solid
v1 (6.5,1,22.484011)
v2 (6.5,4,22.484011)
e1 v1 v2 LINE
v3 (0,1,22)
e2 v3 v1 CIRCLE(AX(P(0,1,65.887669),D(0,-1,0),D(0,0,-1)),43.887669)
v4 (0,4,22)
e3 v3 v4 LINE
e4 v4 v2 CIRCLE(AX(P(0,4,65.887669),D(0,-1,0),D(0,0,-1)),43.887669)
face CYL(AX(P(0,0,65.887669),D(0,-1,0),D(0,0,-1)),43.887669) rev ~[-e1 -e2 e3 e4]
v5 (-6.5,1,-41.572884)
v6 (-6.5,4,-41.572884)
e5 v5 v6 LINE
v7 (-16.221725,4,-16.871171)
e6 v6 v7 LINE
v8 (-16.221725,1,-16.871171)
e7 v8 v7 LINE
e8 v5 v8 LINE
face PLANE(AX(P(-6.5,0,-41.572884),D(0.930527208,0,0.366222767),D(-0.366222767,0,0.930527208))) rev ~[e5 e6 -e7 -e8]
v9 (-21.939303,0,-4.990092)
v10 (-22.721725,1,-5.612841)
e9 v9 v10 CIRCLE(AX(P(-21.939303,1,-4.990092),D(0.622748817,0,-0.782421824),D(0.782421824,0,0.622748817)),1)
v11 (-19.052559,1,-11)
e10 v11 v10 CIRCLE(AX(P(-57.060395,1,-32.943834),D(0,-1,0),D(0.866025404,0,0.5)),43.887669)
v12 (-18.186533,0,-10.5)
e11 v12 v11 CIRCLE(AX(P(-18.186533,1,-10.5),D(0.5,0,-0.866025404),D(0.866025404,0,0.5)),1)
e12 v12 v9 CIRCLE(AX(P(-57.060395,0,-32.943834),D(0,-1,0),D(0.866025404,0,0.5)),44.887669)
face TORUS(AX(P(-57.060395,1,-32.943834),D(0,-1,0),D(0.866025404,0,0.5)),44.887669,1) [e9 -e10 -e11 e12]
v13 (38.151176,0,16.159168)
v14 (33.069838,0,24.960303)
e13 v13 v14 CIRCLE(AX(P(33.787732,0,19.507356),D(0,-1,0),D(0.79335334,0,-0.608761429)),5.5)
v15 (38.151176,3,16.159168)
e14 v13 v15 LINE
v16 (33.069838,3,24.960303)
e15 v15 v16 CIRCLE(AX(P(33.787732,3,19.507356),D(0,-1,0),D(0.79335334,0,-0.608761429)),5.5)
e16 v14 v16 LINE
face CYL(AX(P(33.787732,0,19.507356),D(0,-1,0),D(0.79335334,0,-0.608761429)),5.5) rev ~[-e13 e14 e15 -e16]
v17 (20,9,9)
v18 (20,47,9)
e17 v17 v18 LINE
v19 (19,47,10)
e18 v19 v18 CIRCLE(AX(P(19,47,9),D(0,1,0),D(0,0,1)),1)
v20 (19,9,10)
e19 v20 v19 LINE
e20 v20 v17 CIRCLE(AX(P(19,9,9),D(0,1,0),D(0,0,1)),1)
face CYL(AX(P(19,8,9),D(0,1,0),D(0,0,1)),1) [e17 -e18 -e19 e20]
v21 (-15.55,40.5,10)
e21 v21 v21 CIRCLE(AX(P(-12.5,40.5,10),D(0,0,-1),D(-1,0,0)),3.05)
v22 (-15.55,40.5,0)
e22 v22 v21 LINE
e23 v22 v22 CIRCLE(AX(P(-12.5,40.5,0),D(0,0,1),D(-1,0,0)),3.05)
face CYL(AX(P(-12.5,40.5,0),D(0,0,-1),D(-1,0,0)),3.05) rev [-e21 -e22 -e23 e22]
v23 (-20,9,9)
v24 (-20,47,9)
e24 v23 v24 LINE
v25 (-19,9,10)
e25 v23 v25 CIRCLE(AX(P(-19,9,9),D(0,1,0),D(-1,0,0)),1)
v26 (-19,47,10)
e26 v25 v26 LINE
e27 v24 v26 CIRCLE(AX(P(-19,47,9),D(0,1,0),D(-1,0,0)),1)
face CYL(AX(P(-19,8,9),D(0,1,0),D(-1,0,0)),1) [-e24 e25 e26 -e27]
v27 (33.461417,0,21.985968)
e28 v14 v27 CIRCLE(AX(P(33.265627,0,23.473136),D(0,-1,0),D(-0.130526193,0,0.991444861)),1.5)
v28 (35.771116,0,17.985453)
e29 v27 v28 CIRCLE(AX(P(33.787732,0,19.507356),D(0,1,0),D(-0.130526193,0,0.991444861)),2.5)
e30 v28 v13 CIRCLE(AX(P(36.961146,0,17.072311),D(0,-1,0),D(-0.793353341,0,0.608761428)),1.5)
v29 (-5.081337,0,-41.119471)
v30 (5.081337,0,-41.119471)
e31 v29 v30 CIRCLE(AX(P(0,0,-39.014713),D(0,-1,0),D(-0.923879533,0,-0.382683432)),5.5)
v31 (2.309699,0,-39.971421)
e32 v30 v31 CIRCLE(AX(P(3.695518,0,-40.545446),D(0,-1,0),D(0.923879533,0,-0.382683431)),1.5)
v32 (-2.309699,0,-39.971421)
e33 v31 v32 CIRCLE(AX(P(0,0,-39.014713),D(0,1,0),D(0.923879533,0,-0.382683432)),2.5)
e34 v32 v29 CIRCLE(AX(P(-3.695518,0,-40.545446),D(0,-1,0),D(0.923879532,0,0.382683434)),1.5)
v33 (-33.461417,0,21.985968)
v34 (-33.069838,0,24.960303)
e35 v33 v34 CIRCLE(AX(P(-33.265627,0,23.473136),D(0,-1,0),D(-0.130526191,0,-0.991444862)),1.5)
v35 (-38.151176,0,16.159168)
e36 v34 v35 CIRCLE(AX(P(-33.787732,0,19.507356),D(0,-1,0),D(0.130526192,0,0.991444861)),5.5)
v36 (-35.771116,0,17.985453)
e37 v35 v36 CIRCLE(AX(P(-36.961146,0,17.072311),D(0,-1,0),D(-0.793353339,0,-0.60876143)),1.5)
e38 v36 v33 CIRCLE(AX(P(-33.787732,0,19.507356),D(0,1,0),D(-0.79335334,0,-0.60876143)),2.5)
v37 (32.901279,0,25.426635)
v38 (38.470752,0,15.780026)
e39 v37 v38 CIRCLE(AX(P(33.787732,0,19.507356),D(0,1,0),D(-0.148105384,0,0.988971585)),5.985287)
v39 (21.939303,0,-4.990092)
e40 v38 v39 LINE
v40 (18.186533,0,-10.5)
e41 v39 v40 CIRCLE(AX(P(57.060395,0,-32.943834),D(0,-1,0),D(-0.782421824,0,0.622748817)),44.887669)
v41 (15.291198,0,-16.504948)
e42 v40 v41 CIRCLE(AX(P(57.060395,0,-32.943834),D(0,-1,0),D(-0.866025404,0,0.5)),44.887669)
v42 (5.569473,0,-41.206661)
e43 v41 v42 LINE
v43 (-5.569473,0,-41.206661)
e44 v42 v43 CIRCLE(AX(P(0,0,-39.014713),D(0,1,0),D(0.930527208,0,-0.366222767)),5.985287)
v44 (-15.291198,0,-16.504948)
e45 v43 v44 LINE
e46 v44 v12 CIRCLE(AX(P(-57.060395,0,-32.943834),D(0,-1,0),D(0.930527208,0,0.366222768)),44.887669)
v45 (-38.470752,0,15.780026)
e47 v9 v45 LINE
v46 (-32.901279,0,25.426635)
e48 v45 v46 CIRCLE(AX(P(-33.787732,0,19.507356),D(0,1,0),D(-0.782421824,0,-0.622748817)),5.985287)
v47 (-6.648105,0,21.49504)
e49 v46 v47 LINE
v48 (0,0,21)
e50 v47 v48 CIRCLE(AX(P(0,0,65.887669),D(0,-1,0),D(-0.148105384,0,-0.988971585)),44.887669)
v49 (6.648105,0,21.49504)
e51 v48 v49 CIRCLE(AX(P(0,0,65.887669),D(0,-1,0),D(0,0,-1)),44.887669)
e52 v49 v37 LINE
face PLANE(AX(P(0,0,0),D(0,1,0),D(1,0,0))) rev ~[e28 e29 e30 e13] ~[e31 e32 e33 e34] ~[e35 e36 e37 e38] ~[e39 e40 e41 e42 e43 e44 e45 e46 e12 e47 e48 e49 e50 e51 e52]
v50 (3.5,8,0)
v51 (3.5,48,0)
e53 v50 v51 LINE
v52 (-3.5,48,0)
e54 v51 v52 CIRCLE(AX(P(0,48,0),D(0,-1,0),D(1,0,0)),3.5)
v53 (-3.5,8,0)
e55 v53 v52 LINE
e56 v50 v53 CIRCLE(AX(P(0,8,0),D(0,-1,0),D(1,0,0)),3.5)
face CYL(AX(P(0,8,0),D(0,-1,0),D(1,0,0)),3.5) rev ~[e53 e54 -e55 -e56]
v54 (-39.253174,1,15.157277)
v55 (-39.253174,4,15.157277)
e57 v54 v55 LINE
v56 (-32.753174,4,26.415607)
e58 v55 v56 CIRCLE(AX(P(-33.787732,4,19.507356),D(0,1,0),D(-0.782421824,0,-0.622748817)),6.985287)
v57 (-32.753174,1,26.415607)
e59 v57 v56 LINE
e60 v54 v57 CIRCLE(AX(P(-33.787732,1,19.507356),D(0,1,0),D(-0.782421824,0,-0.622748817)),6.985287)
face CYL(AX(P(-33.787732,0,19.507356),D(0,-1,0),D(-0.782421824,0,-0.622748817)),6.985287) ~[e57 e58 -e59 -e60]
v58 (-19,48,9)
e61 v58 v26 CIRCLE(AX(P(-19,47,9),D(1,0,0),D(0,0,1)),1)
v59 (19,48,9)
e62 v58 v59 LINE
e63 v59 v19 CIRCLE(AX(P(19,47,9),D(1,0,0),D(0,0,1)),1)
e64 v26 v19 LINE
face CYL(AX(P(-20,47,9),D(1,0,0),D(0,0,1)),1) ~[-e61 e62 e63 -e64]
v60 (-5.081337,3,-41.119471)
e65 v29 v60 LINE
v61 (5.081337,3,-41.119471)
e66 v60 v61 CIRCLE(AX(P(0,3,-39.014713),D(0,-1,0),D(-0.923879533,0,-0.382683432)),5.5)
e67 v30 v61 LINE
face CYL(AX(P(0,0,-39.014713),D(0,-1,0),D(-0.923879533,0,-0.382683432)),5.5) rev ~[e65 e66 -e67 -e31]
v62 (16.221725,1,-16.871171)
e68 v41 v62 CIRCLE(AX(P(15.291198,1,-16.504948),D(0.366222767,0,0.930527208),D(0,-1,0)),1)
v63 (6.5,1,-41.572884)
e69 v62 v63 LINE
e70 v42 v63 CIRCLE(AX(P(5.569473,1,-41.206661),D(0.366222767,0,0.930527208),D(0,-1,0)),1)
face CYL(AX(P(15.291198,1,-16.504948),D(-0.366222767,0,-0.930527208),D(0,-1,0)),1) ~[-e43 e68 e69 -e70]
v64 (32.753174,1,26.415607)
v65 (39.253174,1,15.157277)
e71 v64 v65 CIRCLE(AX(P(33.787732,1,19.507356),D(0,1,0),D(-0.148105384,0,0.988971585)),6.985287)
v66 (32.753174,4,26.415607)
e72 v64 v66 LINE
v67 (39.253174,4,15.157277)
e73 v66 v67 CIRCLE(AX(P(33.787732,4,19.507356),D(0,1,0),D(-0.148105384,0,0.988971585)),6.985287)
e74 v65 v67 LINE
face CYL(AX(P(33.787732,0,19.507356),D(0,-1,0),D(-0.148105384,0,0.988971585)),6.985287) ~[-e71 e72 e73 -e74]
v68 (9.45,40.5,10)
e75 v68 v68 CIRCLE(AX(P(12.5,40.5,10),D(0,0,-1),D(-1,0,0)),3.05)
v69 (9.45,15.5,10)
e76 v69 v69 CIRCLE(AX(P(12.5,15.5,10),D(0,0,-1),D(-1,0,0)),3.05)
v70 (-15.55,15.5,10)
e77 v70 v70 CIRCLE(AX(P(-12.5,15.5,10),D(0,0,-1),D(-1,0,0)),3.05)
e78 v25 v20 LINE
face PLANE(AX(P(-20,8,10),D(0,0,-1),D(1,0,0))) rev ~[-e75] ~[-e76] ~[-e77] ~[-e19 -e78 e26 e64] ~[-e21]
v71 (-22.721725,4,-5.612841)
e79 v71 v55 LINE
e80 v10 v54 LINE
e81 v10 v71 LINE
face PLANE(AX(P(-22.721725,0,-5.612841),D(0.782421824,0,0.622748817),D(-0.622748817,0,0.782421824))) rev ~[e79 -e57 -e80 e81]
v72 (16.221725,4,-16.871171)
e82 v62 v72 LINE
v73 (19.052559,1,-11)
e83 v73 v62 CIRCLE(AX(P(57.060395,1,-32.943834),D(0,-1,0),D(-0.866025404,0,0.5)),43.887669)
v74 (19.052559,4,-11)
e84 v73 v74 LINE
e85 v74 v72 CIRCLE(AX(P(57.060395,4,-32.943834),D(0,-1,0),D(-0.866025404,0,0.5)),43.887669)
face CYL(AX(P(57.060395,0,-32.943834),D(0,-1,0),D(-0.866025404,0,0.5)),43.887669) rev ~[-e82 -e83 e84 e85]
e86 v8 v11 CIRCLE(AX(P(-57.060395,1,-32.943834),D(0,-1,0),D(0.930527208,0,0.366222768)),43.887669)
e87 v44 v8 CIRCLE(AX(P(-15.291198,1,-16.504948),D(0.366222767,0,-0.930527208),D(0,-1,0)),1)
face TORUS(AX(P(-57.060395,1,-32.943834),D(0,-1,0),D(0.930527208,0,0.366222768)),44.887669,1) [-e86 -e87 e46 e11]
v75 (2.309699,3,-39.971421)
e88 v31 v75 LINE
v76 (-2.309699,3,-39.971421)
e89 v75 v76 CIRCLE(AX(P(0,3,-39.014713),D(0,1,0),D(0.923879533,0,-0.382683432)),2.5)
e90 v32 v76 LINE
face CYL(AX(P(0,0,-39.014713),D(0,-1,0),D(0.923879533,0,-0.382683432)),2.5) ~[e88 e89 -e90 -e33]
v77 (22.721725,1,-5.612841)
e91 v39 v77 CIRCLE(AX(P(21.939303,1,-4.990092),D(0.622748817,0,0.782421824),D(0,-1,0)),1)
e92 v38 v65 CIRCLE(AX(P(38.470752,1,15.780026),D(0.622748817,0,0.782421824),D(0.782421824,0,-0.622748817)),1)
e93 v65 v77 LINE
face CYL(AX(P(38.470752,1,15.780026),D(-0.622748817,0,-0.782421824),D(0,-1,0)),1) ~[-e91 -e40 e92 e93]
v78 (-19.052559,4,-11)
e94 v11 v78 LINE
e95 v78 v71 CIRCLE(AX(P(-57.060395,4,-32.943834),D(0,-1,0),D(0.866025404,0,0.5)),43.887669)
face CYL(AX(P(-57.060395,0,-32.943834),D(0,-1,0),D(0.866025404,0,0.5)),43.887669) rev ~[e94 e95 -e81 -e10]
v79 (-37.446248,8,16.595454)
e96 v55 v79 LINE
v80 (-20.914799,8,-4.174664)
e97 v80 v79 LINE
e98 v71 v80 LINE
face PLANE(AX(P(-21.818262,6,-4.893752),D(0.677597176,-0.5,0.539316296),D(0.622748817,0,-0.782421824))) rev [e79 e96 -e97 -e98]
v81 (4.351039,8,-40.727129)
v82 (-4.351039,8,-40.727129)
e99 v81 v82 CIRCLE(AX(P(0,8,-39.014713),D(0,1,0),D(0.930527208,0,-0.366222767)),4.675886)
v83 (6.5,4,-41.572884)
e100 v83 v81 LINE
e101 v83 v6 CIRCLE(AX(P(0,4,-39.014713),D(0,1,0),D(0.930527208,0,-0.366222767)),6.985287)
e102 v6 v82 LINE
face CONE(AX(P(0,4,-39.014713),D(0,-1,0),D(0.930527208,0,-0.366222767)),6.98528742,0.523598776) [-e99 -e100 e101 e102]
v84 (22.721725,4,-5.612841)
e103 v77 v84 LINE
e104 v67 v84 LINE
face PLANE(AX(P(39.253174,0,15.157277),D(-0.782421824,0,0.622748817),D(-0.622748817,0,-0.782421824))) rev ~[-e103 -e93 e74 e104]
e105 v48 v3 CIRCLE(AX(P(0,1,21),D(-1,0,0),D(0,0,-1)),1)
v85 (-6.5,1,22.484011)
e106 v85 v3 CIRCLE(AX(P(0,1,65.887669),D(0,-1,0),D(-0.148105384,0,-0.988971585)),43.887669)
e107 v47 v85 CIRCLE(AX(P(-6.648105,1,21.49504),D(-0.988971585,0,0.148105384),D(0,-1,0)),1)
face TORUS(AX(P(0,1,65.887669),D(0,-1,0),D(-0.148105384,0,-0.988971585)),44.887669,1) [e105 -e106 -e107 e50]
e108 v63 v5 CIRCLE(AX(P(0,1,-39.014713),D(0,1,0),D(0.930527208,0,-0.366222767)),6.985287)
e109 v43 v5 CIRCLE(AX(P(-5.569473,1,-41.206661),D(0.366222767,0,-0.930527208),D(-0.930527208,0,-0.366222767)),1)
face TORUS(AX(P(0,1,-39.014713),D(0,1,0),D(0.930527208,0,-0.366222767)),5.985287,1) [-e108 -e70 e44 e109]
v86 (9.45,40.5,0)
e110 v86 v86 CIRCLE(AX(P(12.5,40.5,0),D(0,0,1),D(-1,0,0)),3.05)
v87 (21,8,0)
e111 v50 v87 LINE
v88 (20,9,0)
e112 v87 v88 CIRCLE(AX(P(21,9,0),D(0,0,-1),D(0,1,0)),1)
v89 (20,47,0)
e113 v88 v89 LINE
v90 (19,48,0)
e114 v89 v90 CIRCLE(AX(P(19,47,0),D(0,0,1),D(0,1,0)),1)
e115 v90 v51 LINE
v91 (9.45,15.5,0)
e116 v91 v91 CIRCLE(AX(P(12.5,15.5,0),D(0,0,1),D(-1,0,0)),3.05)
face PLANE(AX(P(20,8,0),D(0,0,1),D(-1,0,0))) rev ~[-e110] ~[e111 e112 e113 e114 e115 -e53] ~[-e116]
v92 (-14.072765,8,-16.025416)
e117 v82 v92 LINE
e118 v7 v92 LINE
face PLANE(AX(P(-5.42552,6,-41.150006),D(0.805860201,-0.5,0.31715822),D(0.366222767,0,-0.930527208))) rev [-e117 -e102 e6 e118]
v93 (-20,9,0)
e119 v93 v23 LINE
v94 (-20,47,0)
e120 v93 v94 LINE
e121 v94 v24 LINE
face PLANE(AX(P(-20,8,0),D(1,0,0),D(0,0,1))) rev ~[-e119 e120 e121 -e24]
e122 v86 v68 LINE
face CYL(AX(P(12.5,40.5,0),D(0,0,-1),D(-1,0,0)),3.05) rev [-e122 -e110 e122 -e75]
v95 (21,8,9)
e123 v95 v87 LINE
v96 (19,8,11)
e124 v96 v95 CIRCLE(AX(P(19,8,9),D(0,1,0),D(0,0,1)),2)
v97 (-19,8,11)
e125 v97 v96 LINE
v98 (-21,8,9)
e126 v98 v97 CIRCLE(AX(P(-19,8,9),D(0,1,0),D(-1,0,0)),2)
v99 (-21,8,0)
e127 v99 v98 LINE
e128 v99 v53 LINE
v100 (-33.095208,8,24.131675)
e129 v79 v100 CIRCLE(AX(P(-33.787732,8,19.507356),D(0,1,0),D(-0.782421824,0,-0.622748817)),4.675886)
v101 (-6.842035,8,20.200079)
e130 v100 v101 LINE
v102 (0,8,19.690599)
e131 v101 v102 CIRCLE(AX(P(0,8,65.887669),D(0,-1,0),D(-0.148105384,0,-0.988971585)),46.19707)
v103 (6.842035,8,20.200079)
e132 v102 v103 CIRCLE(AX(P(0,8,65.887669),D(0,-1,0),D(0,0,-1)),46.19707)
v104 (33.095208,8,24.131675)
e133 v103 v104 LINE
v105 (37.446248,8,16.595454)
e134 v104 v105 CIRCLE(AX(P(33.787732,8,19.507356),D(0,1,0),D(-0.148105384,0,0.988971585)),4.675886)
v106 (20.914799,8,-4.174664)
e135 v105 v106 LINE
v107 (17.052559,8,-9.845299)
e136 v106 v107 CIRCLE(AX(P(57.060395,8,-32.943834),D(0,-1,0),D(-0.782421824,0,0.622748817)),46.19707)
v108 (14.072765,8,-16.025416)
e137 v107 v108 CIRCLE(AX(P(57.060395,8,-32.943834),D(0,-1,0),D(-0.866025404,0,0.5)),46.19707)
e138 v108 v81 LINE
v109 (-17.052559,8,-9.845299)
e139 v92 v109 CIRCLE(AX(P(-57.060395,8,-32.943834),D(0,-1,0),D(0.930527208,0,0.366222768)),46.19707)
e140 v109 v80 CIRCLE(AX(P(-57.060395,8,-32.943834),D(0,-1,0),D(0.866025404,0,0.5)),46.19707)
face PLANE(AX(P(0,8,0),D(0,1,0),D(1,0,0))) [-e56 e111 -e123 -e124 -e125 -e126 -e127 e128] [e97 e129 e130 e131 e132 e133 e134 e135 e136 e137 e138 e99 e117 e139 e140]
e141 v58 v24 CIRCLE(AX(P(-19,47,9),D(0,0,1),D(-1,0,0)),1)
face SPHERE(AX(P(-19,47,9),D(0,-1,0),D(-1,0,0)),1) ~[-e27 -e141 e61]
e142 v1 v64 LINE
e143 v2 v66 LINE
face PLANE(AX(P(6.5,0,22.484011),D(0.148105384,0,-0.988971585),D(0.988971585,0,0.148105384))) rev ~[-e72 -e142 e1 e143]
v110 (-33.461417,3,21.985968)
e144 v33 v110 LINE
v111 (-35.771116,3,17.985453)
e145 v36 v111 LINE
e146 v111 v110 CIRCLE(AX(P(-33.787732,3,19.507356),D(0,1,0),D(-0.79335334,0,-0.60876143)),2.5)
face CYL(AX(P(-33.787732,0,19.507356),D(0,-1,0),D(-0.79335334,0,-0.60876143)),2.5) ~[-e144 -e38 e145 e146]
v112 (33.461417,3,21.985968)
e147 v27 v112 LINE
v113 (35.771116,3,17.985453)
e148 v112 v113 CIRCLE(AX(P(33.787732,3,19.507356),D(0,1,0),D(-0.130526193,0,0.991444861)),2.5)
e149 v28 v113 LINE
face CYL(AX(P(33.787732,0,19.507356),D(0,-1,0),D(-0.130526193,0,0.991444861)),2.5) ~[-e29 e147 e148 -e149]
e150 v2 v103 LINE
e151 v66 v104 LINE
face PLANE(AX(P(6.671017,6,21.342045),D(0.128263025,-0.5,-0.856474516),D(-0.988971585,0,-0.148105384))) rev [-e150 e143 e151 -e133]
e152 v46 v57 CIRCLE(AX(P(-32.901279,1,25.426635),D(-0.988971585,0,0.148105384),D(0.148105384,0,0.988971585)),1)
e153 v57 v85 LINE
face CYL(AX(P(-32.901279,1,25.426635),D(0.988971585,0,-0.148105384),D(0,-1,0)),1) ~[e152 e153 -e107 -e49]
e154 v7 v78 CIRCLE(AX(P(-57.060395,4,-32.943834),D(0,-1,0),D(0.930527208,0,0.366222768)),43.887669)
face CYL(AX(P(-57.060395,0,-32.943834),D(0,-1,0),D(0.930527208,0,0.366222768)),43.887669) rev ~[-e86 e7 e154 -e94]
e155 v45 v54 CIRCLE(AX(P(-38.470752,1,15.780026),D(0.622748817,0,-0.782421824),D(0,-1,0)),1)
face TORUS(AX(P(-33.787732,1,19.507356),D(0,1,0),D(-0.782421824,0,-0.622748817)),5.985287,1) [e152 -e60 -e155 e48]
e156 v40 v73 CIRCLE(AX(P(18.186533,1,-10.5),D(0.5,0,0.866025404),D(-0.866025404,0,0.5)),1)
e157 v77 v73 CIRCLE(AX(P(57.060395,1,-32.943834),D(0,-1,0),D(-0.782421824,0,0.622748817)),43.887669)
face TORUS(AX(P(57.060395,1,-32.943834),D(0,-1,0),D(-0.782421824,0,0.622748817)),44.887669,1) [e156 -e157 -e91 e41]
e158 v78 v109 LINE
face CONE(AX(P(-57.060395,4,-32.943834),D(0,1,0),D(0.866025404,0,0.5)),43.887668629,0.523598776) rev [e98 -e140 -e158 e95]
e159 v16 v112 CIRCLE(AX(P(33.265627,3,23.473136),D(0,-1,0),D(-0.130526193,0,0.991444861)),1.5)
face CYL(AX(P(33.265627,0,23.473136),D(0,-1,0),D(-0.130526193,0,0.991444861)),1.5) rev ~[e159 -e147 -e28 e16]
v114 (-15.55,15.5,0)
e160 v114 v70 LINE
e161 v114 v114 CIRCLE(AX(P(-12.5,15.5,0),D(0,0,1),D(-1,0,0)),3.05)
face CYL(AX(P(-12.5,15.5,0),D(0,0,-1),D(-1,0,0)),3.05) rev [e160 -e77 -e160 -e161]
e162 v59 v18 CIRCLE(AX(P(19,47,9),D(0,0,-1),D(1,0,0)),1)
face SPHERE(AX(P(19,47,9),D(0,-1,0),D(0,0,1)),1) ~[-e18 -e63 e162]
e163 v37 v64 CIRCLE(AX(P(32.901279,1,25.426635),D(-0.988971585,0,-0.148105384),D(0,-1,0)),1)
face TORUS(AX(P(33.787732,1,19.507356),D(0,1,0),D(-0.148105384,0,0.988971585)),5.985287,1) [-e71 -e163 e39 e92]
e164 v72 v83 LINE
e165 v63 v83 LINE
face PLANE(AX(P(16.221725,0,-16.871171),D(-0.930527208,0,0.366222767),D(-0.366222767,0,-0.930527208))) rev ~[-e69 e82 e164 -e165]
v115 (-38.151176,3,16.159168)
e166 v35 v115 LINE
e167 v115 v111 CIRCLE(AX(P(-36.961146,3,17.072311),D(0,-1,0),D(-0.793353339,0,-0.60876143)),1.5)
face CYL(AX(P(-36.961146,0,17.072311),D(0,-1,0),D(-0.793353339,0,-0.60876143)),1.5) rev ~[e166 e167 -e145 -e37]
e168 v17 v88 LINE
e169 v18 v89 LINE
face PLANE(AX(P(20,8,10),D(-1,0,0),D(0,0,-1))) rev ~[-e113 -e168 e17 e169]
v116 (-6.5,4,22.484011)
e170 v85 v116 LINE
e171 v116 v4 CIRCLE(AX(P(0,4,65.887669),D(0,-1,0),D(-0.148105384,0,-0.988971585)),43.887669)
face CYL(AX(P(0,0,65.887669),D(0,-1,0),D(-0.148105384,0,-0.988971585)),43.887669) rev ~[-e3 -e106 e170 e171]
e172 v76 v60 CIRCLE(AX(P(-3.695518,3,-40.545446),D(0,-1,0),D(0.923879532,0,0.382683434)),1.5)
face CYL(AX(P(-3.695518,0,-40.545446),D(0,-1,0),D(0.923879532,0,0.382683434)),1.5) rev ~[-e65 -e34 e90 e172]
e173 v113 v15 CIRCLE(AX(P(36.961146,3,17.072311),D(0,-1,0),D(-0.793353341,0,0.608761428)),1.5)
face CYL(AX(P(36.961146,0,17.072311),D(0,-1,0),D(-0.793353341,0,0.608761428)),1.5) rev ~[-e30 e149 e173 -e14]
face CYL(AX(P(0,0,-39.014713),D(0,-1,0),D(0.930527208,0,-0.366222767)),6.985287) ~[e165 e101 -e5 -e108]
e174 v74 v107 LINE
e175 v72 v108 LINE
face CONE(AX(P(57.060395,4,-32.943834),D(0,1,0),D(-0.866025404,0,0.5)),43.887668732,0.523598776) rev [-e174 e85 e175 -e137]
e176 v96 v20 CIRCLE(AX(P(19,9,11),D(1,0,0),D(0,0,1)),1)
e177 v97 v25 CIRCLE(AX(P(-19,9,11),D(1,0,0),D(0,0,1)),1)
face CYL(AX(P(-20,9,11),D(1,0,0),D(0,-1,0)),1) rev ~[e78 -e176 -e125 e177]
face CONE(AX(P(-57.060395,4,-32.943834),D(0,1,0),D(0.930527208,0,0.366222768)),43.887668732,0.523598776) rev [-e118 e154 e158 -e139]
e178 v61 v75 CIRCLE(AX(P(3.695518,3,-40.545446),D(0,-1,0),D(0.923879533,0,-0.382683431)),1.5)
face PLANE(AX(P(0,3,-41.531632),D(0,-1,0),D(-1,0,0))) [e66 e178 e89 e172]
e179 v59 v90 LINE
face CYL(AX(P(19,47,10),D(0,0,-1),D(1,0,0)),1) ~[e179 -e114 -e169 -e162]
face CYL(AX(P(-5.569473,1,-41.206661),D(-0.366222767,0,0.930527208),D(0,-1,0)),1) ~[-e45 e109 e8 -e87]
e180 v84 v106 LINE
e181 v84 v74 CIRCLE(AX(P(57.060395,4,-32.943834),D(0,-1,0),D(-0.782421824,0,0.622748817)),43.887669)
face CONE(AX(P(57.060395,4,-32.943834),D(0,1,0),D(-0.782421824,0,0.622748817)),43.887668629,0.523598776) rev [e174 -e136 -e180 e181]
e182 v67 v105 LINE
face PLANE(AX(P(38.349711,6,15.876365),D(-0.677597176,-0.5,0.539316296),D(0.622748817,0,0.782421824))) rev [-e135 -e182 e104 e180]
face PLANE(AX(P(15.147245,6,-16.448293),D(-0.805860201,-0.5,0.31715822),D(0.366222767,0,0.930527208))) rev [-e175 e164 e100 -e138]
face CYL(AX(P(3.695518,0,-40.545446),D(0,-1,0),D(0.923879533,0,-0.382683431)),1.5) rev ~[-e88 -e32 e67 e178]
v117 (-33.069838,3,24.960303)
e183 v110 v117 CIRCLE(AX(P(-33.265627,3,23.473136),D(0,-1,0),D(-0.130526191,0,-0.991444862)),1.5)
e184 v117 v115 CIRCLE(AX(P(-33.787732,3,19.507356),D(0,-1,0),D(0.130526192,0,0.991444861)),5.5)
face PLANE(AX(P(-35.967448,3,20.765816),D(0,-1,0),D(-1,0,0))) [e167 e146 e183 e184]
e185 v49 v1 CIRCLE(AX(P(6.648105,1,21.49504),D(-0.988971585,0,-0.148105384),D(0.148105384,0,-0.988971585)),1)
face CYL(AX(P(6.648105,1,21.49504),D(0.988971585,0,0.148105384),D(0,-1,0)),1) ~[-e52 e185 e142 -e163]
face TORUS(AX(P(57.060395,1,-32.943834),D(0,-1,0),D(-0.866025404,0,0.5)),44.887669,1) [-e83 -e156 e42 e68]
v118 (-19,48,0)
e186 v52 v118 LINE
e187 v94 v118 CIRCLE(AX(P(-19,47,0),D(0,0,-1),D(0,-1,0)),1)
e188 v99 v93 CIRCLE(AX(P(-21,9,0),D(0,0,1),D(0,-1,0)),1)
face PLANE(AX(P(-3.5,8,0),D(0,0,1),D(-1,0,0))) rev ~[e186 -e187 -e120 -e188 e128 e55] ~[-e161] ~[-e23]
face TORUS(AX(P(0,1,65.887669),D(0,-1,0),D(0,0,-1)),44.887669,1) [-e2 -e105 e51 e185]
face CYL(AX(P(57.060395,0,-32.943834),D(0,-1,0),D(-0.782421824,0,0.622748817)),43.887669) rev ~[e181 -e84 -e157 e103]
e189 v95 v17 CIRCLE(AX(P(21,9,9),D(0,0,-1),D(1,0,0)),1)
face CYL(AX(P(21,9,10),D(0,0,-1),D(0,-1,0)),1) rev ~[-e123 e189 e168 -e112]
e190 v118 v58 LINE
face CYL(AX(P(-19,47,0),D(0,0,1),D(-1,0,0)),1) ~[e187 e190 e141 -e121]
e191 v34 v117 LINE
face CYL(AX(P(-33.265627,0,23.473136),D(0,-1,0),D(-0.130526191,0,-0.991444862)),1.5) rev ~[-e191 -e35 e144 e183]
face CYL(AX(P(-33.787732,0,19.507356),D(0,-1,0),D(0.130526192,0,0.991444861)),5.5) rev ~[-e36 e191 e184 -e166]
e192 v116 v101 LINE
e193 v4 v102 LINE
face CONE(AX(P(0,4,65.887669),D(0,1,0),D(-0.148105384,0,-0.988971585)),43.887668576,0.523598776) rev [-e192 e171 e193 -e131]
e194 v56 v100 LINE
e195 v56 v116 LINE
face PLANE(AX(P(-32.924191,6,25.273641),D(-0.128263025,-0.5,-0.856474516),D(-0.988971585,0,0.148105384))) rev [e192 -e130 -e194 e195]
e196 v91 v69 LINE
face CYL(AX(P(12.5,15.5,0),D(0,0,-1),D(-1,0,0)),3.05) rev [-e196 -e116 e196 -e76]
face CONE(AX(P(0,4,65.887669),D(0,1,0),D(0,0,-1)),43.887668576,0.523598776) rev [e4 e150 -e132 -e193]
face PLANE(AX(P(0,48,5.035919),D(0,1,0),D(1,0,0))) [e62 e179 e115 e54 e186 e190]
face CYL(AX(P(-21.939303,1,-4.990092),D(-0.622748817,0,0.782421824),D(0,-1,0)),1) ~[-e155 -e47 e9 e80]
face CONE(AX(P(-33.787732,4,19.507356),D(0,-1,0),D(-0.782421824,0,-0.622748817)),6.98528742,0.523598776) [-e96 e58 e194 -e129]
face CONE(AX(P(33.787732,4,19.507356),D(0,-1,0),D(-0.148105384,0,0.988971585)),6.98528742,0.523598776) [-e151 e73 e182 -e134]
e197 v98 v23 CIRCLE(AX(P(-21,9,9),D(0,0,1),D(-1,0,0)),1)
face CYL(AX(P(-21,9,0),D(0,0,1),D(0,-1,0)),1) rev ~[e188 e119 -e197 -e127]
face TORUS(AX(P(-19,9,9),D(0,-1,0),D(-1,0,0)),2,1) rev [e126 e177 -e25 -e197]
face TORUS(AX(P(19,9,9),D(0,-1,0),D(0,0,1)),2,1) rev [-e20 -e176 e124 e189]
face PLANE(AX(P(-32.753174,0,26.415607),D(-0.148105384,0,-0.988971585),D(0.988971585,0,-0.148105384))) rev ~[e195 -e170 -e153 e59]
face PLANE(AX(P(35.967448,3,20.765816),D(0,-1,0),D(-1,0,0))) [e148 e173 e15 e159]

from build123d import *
from OCP.BRepFilletAPI import BRepFilletAPI_MakeChamfer

# Parameters (mm, degrees)
EXTRUDE2_DEPTH     = 8
CHAMFER2_SIZE      = 4
CHAMFER2_SIZE2     = 2.309401077
CUT_EXTRUDE1_DEPTH = 3
EXTRUDE3_START     = 8
EXTRUDE3_DEPTH     = 40
SKETCH4_R          = 3.05
CUT_EXTRUDE2_DEPTH = 78.989993783
FILLET1_R          = 1


with BuildPart() as part:
    # Sketch1 → Extrude2 (new body)
    with BuildSketch(Plane(origin=(0, 0, 0), x_dir=(1, 0, 0), z_dir=(0, 1, 0))):
        with BuildLine():
            Line((-6.5, 41.572883869), (-16.221725084, 16.871170844))
            ThreePointArc((-16.221725084, 16.871170844), (-17.527996386, 13.882959965), (-19.052558883, 11))
            ThreePointArc((-19.052558883, 11), (-20.786994202, 8.238210165), (-22.721725084, 5.612840594))
            Line((-22.721725084, 5.612840594), (-39.253173539, -15.15727681))
            ThreePointArc((-39.253173539, -15.15727681), (-39.837168574, -23), (-32.753173539, -26.415607059))
            Line((-32.753173539, -26.415607059), (-6.5, -22.484011438))
            ThreePointArc((-6.5, -22.484011438), (-3.258997817, -22.12117013), (0, -22))
            ThreePointArc((0, -22), (3.258997817, -22.12117013), (6.5, -22.484011438))
            Line((6.5, -22.484011438), (32.753173539, -26.415607059))
            ThreePointArc((32.753173539, -26.415607059), (39.837168574, -23), (39.253173539, -15.15727681))
            Line((39.253173539, -15.15727681), (22.721725084, 5.612840594))
            ThreePointArc((22.721725084, 5.612840594), (20.786994202, 8.238210165), (19.052558883, 11))
            ThreePointArc((19.052558883, 11), (17.527996386, 13.882959965), (16.221725084, 16.871170844))
            Line((16.221725084, 16.871170844), (6.5, 41.572883869))
            ThreePointArc((6.5, 41.572883869), (0, 46), (-6.5, 41.572883869))
        make_face()
    extrude(amount=EXTRUDE2_DEPTH)

    # Chamfer2: one chamfer whose edges measure the first distance from different faces: ONE call of the kernel's chamfer builder (chamfer() names one face for all edges)
    chamfer2_edges_1 = [part.edges().sort_by_distance(p)[0] for p in [
        (-19.052558883, 8, -11),
    ]]
    chamfer2_side_1 = [part.faces().sort_by_distance(p)[0] for p in [
        (-19.052558883, 4, -11),
    ]]
    chamfer2_edges_2 = [part.edges().sort_by_distance(p)[0] for p in [
        (-30.987449312, 8, 4.772218108),
    ]]
    chamfer2_side_2 = [part.faces().sort_by_distance(p)[0] for p in [
        (-30.987449312, 4, 4.772218108),
    ]]
    chamfer2_edges_3 = [part.edges().sort_by_distance(p)[0] for p in [
        (-39.837168574, 8, 23),
    ]]
    chamfer2_side_3 = [part.faces().sort_by_distance(p)[0] for p in [
        (-39.837168574, 4, 23),
    ]]
    chamfer2_edges_4 = [part.edges().sort_by_distance(p)[0] for p in [
        (-19.626586769, 8, 24.449809248),
    ]]
    chamfer2_side_4 = [part.faces().sort_by_distance(p)[0] for p in [
        (-19.626586769, 4, 24.449809248),
    ]]
    chamfer2_edges_5 = [part.edges().sort_by_distance(p)[0] for p in [
        (0, 8, 22),
    ]]
    chamfer2_side_5 = [part.faces().sort_by_distance(p)[0] for p in [
        (0, 4, 22),
    ]]
    chamfer2_edges_6 = [part.edges().sort_by_distance(p)[0] for p in [
        (19.626586769, 8, 24.449809248),
    ]]
    chamfer2_side_6 = [part.faces().sort_by_distance(p)[0] for p in [
        (19.626586769, 4, 24.449809248),
    ]]
    chamfer2_edges_7 = [part.edges().sort_by_distance(p)[0] for p in [
        (39.837168574, 8, 23),
    ]]
    chamfer2_side_7 = [part.faces().sort_by_distance(p)[0] for p in [
        (39.837168574, 4, 23),
    ]]
    chamfer2_edges_8 = [part.edges().sort_by_distance(p)[0] for p in [
        (30.987449312, 8, 4.772218108),
    ]]
    chamfer2_side_8 = [part.faces().sort_by_distance(p)[0] for p in [
        (30.987449312, 4, 4.772218108),
    ]]
    chamfer2_edges_9 = [part.edges().sort_by_distance(p)[0] for p in [
        (0, 8, -46),
    ]]
    chamfer2_side_9 = [part.faces().sort_by_distance(p)[0] for p in [
        (0, 4, -46),
    ]]
    chamfer2_edges_10 = [part.edges().sort_by_distance(p)[0] for p in [
        (19.052558883, 8, -11),
    ]]
    chamfer2_side_10 = [part.faces().sort_by_distance(p)[0] for p in [
        (19.052558883, 4, -11),
    ]]
    chamfer2_edges_11 = [part.edges().sort_by_distance(p)[0] for p in [
        (11.360862542, 8, -29.222027356),
    ]]
    chamfer2_side_11 = [part.faces().sort_by_distance(p)[0] for p in [
        (11.360862542, 4, -29.222027356),
    ]]
    chamfer2_edges_12 = [part.edges().sort_by_distance(p)[0] for p in [
        (-11.360862542, 8, -29.222027356),
    ]]
    chamfer2_side_12 = [part.faces().sort_by_distance(p)[0] for p in [
        (-11.360862542, 4, -29.222027356),
    ]]
    chamfer2 = BRepFilletAPI_MakeChamfer(part.part.solid().wrapped)
    for e in chamfer2_edges_1:
        chamfer2.Add(CHAMFER2_SIZE, CHAMFER2_SIZE2, e.wrapped, chamfer2_side_1[0].wrapped)  # the first distance lies on this face
    for e in chamfer2_edges_2:
        chamfer2.Add(CHAMFER2_SIZE, CHAMFER2_SIZE2, e.wrapped, chamfer2_side_2[0].wrapped)  # the first distance lies on this face
    for e in chamfer2_edges_3:
        chamfer2.Add(CHAMFER2_SIZE, CHAMFER2_SIZE2, e.wrapped, chamfer2_side_3[0].wrapped)  # the first distance lies on this face
    for e in chamfer2_edges_4:
        chamfer2.Add(CHAMFER2_SIZE, CHAMFER2_SIZE2, e.wrapped, chamfer2_side_4[0].wrapped)  # the first distance lies on this face
    for e in chamfer2_edges_5:
        chamfer2.Add(CHAMFER2_SIZE, CHAMFER2_SIZE2, e.wrapped, chamfer2_side_5[0].wrapped)  # the first distance lies on this face
    for e in chamfer2_edges_6:
        chamfer2.Add(CHAMFER2_SIZE, CHAMFER2_SIZE2, e.wrapped, chamfer2_side_6[0].wrapped)  # the first distance lies on this face
    for e in chamfer2_edges_7:
        chamfer2.Add(CHAMFER2_SIZE, CHAMFER2_SIZE2, e.wrapped, chamfer2_side_7[0].wrapped)  # the first distance lies on this face
    for e in chamfer2_edges_8:
        chamfer2.Add(CHAMFER2_SIZE, CHAMFER2_SIZE2, e.wrapped, chamfer2_side_8[0].wrapped)  # the first distance lies on this face
    for e in chamfer2_edges_9:
        chamfer2.Add(CHAMFER2_SIZE, CHAMFER2_SIZE2, e.wrapped, chamfer2_side_9[0].wrapped)  # the first distance lies on this face
    for e in chamfer2_edges_10:
        chamfer2.Add(CHAMFER2_SIZE, CHAMFER2_SIZE2, e.wrapped, chamfer2_side_10[0].wrapped)  # the first distance lies on this face
    for e in chamfer2_edges_11:
        chamfer2.Add(CHAMFER2_SIZE, CHAMFER2_SIZE2, e.wrapped, chamfer2_side_11[0].wrapped)  # the first distance lies on this face
    for e in chamfer2_edges_12:
        chamfer2.Add(CHAMFER2_SIZE, CHAMFER2_SIZE2, e.wrapped, chamfer2_side_12[0].wrapped)  # the first distance lies on this face
    add(Compound.cast(chamfer2.Shape()), mode=Mode.REPLACE)

    # Sketch2 → Cut-Extrude1 (cut)
    with BuildSketch(Plane(origin=(0, 0, 0), x_dir=(1, 0, 0), z_dir=(0, 1, 0))):
        with BuildLine():
            ThreePointArc((-33.06983816, -24.960303026), (-38.550871935, -22.25735629), (-38.151175585, -16.159168435))
            ThreePointArc((-38.151175585, -16.159168435), (-36.048003444, -15.88228057), (-35.771115574, -17.985452713))
            ThreePointArc((-35.771115574, -17.985452713), (-35.952795735, -20.757356297), (-33.461416734, -21.985968456))
            ThreePointArc((-33.461416734, -21.985968456), (-31.778460163, -23.277346457), (-33.06983816, -24.960303026))
        make_face()
        with BuildLine():
            ThreePointArc((-5.081337427, 41.119471458), (0, 44.514712578), (5.081337424, 41.119471458))
            ThreePointArc((5.081337424, 41.119471458), (4.269543279, 39.159627023), (2.309698839, 39.971421166))
            ThreePointArc((2.309698839, 39.971421166), (0, 41.514712592), (-2.309698842, 39.971421166))
            ThreePointArc((-2.309698842, 39.971421166), (-4.269543282, 39.159627023), (-5.081337427, 41.119471458))
        make_face()
        with BuildLine():
            ThreePointArc((38.151175587, -16.159168432), (38.550871936, -22.257356289), (33.069838162, -24.960303024))
            ThreePointArc((33.069838162, -24.960303024), (31.778460165, -23.277346454), (33.461416736, -21.985968453))
            ThreePointArc((33.461416736, -21.985968453), (35.952795736, -20.757356296), (35.771115577, -17.985452711))
            ThreePointArc((35.771115577, -17.985452711), (36.048003446, -15.882280567), (38.151175587, -16.159168432))
        make_face()
    extrude(amount=CUT_EXTRUDE1_DEPTH, mode=Mode.SUBTRACT)

    # Sketch3 → Extrude3 (add)
    with BuildSketch(Plane(origin=(0, 0, 0), x_dir=(1, 0, 0), z_dir=(0, 1, 0)).offset(EXTRUDE3_START)):
        with BuildLine():
            Line((-20, 0), (-20, -10))
            Line((-20, -10), (20, -10))
            Line((20, -10), (20, 0))
            Line((20, 0), (3.5, 0))
            ThreePointArc((3.5, 0), (0, -3.5), (-3.5, 0))
            Line((-3.5, 0), (-20, 0))
        make_face()
    extrude(amount=EXTRUDE3_DEPTH)

    # Sketch4 → Cut-Extrude2 (cut, through all)
    with BuildSketch(Plane.XY):
        with Locations(Location((-12.5, 40.5, 0), (0, 0, 180))):
            Circle(SKETCH4_R)
        with Locations(Location((12.5, 40.5, 0), (0, 0, 180))):
            Circle(SKETCH4_R)
        with Locations(Location((12.5, 15.5, 0), (0, 0, 180))):
            Circle(SKETCH4_R)
        with Locations(Location((-12.5, 15.5, 0), (0, 0, 180))):
            Circle(SKETCH4_R)
    extrude(amount=CUT_EXTRUDE2_DEPTH, mode=Mode.SUBTRACT)

    # Fillet1
    fillet1_edges = [part.edges().sort_by_distance(p)[0] for p in [
        (-20, 8, 5),
        (11.360862542, 0, -29.222027356),
        (0, 8, 10),
        (-20, 28, 10),
        (20, 8, 5),
        (20, 28, 10),
        (-20, 48, 5),
        (0, 48, 10),
        (20, 48, 5),
        (19.052558883, 0, -11),
        (30.987449312, 0, 4.772218108),
        (39.837168574, 0, 23),
        (19.626586769, 0, 24.449809248),
        (0, 0, 22),
        (-19.626586769, 0, 24.449809248),
        (-39.837168574, 0, 23),
        (-30.987449312, 0, 4.772218108),
        (-19.052558883, 0, -11),
        (-11.360862542, 0, -29.222027356),
        (0, 0, -46),
    ]]
    fillet(fillet1_edges, radius=FILLET1_R)


solid = part.part
